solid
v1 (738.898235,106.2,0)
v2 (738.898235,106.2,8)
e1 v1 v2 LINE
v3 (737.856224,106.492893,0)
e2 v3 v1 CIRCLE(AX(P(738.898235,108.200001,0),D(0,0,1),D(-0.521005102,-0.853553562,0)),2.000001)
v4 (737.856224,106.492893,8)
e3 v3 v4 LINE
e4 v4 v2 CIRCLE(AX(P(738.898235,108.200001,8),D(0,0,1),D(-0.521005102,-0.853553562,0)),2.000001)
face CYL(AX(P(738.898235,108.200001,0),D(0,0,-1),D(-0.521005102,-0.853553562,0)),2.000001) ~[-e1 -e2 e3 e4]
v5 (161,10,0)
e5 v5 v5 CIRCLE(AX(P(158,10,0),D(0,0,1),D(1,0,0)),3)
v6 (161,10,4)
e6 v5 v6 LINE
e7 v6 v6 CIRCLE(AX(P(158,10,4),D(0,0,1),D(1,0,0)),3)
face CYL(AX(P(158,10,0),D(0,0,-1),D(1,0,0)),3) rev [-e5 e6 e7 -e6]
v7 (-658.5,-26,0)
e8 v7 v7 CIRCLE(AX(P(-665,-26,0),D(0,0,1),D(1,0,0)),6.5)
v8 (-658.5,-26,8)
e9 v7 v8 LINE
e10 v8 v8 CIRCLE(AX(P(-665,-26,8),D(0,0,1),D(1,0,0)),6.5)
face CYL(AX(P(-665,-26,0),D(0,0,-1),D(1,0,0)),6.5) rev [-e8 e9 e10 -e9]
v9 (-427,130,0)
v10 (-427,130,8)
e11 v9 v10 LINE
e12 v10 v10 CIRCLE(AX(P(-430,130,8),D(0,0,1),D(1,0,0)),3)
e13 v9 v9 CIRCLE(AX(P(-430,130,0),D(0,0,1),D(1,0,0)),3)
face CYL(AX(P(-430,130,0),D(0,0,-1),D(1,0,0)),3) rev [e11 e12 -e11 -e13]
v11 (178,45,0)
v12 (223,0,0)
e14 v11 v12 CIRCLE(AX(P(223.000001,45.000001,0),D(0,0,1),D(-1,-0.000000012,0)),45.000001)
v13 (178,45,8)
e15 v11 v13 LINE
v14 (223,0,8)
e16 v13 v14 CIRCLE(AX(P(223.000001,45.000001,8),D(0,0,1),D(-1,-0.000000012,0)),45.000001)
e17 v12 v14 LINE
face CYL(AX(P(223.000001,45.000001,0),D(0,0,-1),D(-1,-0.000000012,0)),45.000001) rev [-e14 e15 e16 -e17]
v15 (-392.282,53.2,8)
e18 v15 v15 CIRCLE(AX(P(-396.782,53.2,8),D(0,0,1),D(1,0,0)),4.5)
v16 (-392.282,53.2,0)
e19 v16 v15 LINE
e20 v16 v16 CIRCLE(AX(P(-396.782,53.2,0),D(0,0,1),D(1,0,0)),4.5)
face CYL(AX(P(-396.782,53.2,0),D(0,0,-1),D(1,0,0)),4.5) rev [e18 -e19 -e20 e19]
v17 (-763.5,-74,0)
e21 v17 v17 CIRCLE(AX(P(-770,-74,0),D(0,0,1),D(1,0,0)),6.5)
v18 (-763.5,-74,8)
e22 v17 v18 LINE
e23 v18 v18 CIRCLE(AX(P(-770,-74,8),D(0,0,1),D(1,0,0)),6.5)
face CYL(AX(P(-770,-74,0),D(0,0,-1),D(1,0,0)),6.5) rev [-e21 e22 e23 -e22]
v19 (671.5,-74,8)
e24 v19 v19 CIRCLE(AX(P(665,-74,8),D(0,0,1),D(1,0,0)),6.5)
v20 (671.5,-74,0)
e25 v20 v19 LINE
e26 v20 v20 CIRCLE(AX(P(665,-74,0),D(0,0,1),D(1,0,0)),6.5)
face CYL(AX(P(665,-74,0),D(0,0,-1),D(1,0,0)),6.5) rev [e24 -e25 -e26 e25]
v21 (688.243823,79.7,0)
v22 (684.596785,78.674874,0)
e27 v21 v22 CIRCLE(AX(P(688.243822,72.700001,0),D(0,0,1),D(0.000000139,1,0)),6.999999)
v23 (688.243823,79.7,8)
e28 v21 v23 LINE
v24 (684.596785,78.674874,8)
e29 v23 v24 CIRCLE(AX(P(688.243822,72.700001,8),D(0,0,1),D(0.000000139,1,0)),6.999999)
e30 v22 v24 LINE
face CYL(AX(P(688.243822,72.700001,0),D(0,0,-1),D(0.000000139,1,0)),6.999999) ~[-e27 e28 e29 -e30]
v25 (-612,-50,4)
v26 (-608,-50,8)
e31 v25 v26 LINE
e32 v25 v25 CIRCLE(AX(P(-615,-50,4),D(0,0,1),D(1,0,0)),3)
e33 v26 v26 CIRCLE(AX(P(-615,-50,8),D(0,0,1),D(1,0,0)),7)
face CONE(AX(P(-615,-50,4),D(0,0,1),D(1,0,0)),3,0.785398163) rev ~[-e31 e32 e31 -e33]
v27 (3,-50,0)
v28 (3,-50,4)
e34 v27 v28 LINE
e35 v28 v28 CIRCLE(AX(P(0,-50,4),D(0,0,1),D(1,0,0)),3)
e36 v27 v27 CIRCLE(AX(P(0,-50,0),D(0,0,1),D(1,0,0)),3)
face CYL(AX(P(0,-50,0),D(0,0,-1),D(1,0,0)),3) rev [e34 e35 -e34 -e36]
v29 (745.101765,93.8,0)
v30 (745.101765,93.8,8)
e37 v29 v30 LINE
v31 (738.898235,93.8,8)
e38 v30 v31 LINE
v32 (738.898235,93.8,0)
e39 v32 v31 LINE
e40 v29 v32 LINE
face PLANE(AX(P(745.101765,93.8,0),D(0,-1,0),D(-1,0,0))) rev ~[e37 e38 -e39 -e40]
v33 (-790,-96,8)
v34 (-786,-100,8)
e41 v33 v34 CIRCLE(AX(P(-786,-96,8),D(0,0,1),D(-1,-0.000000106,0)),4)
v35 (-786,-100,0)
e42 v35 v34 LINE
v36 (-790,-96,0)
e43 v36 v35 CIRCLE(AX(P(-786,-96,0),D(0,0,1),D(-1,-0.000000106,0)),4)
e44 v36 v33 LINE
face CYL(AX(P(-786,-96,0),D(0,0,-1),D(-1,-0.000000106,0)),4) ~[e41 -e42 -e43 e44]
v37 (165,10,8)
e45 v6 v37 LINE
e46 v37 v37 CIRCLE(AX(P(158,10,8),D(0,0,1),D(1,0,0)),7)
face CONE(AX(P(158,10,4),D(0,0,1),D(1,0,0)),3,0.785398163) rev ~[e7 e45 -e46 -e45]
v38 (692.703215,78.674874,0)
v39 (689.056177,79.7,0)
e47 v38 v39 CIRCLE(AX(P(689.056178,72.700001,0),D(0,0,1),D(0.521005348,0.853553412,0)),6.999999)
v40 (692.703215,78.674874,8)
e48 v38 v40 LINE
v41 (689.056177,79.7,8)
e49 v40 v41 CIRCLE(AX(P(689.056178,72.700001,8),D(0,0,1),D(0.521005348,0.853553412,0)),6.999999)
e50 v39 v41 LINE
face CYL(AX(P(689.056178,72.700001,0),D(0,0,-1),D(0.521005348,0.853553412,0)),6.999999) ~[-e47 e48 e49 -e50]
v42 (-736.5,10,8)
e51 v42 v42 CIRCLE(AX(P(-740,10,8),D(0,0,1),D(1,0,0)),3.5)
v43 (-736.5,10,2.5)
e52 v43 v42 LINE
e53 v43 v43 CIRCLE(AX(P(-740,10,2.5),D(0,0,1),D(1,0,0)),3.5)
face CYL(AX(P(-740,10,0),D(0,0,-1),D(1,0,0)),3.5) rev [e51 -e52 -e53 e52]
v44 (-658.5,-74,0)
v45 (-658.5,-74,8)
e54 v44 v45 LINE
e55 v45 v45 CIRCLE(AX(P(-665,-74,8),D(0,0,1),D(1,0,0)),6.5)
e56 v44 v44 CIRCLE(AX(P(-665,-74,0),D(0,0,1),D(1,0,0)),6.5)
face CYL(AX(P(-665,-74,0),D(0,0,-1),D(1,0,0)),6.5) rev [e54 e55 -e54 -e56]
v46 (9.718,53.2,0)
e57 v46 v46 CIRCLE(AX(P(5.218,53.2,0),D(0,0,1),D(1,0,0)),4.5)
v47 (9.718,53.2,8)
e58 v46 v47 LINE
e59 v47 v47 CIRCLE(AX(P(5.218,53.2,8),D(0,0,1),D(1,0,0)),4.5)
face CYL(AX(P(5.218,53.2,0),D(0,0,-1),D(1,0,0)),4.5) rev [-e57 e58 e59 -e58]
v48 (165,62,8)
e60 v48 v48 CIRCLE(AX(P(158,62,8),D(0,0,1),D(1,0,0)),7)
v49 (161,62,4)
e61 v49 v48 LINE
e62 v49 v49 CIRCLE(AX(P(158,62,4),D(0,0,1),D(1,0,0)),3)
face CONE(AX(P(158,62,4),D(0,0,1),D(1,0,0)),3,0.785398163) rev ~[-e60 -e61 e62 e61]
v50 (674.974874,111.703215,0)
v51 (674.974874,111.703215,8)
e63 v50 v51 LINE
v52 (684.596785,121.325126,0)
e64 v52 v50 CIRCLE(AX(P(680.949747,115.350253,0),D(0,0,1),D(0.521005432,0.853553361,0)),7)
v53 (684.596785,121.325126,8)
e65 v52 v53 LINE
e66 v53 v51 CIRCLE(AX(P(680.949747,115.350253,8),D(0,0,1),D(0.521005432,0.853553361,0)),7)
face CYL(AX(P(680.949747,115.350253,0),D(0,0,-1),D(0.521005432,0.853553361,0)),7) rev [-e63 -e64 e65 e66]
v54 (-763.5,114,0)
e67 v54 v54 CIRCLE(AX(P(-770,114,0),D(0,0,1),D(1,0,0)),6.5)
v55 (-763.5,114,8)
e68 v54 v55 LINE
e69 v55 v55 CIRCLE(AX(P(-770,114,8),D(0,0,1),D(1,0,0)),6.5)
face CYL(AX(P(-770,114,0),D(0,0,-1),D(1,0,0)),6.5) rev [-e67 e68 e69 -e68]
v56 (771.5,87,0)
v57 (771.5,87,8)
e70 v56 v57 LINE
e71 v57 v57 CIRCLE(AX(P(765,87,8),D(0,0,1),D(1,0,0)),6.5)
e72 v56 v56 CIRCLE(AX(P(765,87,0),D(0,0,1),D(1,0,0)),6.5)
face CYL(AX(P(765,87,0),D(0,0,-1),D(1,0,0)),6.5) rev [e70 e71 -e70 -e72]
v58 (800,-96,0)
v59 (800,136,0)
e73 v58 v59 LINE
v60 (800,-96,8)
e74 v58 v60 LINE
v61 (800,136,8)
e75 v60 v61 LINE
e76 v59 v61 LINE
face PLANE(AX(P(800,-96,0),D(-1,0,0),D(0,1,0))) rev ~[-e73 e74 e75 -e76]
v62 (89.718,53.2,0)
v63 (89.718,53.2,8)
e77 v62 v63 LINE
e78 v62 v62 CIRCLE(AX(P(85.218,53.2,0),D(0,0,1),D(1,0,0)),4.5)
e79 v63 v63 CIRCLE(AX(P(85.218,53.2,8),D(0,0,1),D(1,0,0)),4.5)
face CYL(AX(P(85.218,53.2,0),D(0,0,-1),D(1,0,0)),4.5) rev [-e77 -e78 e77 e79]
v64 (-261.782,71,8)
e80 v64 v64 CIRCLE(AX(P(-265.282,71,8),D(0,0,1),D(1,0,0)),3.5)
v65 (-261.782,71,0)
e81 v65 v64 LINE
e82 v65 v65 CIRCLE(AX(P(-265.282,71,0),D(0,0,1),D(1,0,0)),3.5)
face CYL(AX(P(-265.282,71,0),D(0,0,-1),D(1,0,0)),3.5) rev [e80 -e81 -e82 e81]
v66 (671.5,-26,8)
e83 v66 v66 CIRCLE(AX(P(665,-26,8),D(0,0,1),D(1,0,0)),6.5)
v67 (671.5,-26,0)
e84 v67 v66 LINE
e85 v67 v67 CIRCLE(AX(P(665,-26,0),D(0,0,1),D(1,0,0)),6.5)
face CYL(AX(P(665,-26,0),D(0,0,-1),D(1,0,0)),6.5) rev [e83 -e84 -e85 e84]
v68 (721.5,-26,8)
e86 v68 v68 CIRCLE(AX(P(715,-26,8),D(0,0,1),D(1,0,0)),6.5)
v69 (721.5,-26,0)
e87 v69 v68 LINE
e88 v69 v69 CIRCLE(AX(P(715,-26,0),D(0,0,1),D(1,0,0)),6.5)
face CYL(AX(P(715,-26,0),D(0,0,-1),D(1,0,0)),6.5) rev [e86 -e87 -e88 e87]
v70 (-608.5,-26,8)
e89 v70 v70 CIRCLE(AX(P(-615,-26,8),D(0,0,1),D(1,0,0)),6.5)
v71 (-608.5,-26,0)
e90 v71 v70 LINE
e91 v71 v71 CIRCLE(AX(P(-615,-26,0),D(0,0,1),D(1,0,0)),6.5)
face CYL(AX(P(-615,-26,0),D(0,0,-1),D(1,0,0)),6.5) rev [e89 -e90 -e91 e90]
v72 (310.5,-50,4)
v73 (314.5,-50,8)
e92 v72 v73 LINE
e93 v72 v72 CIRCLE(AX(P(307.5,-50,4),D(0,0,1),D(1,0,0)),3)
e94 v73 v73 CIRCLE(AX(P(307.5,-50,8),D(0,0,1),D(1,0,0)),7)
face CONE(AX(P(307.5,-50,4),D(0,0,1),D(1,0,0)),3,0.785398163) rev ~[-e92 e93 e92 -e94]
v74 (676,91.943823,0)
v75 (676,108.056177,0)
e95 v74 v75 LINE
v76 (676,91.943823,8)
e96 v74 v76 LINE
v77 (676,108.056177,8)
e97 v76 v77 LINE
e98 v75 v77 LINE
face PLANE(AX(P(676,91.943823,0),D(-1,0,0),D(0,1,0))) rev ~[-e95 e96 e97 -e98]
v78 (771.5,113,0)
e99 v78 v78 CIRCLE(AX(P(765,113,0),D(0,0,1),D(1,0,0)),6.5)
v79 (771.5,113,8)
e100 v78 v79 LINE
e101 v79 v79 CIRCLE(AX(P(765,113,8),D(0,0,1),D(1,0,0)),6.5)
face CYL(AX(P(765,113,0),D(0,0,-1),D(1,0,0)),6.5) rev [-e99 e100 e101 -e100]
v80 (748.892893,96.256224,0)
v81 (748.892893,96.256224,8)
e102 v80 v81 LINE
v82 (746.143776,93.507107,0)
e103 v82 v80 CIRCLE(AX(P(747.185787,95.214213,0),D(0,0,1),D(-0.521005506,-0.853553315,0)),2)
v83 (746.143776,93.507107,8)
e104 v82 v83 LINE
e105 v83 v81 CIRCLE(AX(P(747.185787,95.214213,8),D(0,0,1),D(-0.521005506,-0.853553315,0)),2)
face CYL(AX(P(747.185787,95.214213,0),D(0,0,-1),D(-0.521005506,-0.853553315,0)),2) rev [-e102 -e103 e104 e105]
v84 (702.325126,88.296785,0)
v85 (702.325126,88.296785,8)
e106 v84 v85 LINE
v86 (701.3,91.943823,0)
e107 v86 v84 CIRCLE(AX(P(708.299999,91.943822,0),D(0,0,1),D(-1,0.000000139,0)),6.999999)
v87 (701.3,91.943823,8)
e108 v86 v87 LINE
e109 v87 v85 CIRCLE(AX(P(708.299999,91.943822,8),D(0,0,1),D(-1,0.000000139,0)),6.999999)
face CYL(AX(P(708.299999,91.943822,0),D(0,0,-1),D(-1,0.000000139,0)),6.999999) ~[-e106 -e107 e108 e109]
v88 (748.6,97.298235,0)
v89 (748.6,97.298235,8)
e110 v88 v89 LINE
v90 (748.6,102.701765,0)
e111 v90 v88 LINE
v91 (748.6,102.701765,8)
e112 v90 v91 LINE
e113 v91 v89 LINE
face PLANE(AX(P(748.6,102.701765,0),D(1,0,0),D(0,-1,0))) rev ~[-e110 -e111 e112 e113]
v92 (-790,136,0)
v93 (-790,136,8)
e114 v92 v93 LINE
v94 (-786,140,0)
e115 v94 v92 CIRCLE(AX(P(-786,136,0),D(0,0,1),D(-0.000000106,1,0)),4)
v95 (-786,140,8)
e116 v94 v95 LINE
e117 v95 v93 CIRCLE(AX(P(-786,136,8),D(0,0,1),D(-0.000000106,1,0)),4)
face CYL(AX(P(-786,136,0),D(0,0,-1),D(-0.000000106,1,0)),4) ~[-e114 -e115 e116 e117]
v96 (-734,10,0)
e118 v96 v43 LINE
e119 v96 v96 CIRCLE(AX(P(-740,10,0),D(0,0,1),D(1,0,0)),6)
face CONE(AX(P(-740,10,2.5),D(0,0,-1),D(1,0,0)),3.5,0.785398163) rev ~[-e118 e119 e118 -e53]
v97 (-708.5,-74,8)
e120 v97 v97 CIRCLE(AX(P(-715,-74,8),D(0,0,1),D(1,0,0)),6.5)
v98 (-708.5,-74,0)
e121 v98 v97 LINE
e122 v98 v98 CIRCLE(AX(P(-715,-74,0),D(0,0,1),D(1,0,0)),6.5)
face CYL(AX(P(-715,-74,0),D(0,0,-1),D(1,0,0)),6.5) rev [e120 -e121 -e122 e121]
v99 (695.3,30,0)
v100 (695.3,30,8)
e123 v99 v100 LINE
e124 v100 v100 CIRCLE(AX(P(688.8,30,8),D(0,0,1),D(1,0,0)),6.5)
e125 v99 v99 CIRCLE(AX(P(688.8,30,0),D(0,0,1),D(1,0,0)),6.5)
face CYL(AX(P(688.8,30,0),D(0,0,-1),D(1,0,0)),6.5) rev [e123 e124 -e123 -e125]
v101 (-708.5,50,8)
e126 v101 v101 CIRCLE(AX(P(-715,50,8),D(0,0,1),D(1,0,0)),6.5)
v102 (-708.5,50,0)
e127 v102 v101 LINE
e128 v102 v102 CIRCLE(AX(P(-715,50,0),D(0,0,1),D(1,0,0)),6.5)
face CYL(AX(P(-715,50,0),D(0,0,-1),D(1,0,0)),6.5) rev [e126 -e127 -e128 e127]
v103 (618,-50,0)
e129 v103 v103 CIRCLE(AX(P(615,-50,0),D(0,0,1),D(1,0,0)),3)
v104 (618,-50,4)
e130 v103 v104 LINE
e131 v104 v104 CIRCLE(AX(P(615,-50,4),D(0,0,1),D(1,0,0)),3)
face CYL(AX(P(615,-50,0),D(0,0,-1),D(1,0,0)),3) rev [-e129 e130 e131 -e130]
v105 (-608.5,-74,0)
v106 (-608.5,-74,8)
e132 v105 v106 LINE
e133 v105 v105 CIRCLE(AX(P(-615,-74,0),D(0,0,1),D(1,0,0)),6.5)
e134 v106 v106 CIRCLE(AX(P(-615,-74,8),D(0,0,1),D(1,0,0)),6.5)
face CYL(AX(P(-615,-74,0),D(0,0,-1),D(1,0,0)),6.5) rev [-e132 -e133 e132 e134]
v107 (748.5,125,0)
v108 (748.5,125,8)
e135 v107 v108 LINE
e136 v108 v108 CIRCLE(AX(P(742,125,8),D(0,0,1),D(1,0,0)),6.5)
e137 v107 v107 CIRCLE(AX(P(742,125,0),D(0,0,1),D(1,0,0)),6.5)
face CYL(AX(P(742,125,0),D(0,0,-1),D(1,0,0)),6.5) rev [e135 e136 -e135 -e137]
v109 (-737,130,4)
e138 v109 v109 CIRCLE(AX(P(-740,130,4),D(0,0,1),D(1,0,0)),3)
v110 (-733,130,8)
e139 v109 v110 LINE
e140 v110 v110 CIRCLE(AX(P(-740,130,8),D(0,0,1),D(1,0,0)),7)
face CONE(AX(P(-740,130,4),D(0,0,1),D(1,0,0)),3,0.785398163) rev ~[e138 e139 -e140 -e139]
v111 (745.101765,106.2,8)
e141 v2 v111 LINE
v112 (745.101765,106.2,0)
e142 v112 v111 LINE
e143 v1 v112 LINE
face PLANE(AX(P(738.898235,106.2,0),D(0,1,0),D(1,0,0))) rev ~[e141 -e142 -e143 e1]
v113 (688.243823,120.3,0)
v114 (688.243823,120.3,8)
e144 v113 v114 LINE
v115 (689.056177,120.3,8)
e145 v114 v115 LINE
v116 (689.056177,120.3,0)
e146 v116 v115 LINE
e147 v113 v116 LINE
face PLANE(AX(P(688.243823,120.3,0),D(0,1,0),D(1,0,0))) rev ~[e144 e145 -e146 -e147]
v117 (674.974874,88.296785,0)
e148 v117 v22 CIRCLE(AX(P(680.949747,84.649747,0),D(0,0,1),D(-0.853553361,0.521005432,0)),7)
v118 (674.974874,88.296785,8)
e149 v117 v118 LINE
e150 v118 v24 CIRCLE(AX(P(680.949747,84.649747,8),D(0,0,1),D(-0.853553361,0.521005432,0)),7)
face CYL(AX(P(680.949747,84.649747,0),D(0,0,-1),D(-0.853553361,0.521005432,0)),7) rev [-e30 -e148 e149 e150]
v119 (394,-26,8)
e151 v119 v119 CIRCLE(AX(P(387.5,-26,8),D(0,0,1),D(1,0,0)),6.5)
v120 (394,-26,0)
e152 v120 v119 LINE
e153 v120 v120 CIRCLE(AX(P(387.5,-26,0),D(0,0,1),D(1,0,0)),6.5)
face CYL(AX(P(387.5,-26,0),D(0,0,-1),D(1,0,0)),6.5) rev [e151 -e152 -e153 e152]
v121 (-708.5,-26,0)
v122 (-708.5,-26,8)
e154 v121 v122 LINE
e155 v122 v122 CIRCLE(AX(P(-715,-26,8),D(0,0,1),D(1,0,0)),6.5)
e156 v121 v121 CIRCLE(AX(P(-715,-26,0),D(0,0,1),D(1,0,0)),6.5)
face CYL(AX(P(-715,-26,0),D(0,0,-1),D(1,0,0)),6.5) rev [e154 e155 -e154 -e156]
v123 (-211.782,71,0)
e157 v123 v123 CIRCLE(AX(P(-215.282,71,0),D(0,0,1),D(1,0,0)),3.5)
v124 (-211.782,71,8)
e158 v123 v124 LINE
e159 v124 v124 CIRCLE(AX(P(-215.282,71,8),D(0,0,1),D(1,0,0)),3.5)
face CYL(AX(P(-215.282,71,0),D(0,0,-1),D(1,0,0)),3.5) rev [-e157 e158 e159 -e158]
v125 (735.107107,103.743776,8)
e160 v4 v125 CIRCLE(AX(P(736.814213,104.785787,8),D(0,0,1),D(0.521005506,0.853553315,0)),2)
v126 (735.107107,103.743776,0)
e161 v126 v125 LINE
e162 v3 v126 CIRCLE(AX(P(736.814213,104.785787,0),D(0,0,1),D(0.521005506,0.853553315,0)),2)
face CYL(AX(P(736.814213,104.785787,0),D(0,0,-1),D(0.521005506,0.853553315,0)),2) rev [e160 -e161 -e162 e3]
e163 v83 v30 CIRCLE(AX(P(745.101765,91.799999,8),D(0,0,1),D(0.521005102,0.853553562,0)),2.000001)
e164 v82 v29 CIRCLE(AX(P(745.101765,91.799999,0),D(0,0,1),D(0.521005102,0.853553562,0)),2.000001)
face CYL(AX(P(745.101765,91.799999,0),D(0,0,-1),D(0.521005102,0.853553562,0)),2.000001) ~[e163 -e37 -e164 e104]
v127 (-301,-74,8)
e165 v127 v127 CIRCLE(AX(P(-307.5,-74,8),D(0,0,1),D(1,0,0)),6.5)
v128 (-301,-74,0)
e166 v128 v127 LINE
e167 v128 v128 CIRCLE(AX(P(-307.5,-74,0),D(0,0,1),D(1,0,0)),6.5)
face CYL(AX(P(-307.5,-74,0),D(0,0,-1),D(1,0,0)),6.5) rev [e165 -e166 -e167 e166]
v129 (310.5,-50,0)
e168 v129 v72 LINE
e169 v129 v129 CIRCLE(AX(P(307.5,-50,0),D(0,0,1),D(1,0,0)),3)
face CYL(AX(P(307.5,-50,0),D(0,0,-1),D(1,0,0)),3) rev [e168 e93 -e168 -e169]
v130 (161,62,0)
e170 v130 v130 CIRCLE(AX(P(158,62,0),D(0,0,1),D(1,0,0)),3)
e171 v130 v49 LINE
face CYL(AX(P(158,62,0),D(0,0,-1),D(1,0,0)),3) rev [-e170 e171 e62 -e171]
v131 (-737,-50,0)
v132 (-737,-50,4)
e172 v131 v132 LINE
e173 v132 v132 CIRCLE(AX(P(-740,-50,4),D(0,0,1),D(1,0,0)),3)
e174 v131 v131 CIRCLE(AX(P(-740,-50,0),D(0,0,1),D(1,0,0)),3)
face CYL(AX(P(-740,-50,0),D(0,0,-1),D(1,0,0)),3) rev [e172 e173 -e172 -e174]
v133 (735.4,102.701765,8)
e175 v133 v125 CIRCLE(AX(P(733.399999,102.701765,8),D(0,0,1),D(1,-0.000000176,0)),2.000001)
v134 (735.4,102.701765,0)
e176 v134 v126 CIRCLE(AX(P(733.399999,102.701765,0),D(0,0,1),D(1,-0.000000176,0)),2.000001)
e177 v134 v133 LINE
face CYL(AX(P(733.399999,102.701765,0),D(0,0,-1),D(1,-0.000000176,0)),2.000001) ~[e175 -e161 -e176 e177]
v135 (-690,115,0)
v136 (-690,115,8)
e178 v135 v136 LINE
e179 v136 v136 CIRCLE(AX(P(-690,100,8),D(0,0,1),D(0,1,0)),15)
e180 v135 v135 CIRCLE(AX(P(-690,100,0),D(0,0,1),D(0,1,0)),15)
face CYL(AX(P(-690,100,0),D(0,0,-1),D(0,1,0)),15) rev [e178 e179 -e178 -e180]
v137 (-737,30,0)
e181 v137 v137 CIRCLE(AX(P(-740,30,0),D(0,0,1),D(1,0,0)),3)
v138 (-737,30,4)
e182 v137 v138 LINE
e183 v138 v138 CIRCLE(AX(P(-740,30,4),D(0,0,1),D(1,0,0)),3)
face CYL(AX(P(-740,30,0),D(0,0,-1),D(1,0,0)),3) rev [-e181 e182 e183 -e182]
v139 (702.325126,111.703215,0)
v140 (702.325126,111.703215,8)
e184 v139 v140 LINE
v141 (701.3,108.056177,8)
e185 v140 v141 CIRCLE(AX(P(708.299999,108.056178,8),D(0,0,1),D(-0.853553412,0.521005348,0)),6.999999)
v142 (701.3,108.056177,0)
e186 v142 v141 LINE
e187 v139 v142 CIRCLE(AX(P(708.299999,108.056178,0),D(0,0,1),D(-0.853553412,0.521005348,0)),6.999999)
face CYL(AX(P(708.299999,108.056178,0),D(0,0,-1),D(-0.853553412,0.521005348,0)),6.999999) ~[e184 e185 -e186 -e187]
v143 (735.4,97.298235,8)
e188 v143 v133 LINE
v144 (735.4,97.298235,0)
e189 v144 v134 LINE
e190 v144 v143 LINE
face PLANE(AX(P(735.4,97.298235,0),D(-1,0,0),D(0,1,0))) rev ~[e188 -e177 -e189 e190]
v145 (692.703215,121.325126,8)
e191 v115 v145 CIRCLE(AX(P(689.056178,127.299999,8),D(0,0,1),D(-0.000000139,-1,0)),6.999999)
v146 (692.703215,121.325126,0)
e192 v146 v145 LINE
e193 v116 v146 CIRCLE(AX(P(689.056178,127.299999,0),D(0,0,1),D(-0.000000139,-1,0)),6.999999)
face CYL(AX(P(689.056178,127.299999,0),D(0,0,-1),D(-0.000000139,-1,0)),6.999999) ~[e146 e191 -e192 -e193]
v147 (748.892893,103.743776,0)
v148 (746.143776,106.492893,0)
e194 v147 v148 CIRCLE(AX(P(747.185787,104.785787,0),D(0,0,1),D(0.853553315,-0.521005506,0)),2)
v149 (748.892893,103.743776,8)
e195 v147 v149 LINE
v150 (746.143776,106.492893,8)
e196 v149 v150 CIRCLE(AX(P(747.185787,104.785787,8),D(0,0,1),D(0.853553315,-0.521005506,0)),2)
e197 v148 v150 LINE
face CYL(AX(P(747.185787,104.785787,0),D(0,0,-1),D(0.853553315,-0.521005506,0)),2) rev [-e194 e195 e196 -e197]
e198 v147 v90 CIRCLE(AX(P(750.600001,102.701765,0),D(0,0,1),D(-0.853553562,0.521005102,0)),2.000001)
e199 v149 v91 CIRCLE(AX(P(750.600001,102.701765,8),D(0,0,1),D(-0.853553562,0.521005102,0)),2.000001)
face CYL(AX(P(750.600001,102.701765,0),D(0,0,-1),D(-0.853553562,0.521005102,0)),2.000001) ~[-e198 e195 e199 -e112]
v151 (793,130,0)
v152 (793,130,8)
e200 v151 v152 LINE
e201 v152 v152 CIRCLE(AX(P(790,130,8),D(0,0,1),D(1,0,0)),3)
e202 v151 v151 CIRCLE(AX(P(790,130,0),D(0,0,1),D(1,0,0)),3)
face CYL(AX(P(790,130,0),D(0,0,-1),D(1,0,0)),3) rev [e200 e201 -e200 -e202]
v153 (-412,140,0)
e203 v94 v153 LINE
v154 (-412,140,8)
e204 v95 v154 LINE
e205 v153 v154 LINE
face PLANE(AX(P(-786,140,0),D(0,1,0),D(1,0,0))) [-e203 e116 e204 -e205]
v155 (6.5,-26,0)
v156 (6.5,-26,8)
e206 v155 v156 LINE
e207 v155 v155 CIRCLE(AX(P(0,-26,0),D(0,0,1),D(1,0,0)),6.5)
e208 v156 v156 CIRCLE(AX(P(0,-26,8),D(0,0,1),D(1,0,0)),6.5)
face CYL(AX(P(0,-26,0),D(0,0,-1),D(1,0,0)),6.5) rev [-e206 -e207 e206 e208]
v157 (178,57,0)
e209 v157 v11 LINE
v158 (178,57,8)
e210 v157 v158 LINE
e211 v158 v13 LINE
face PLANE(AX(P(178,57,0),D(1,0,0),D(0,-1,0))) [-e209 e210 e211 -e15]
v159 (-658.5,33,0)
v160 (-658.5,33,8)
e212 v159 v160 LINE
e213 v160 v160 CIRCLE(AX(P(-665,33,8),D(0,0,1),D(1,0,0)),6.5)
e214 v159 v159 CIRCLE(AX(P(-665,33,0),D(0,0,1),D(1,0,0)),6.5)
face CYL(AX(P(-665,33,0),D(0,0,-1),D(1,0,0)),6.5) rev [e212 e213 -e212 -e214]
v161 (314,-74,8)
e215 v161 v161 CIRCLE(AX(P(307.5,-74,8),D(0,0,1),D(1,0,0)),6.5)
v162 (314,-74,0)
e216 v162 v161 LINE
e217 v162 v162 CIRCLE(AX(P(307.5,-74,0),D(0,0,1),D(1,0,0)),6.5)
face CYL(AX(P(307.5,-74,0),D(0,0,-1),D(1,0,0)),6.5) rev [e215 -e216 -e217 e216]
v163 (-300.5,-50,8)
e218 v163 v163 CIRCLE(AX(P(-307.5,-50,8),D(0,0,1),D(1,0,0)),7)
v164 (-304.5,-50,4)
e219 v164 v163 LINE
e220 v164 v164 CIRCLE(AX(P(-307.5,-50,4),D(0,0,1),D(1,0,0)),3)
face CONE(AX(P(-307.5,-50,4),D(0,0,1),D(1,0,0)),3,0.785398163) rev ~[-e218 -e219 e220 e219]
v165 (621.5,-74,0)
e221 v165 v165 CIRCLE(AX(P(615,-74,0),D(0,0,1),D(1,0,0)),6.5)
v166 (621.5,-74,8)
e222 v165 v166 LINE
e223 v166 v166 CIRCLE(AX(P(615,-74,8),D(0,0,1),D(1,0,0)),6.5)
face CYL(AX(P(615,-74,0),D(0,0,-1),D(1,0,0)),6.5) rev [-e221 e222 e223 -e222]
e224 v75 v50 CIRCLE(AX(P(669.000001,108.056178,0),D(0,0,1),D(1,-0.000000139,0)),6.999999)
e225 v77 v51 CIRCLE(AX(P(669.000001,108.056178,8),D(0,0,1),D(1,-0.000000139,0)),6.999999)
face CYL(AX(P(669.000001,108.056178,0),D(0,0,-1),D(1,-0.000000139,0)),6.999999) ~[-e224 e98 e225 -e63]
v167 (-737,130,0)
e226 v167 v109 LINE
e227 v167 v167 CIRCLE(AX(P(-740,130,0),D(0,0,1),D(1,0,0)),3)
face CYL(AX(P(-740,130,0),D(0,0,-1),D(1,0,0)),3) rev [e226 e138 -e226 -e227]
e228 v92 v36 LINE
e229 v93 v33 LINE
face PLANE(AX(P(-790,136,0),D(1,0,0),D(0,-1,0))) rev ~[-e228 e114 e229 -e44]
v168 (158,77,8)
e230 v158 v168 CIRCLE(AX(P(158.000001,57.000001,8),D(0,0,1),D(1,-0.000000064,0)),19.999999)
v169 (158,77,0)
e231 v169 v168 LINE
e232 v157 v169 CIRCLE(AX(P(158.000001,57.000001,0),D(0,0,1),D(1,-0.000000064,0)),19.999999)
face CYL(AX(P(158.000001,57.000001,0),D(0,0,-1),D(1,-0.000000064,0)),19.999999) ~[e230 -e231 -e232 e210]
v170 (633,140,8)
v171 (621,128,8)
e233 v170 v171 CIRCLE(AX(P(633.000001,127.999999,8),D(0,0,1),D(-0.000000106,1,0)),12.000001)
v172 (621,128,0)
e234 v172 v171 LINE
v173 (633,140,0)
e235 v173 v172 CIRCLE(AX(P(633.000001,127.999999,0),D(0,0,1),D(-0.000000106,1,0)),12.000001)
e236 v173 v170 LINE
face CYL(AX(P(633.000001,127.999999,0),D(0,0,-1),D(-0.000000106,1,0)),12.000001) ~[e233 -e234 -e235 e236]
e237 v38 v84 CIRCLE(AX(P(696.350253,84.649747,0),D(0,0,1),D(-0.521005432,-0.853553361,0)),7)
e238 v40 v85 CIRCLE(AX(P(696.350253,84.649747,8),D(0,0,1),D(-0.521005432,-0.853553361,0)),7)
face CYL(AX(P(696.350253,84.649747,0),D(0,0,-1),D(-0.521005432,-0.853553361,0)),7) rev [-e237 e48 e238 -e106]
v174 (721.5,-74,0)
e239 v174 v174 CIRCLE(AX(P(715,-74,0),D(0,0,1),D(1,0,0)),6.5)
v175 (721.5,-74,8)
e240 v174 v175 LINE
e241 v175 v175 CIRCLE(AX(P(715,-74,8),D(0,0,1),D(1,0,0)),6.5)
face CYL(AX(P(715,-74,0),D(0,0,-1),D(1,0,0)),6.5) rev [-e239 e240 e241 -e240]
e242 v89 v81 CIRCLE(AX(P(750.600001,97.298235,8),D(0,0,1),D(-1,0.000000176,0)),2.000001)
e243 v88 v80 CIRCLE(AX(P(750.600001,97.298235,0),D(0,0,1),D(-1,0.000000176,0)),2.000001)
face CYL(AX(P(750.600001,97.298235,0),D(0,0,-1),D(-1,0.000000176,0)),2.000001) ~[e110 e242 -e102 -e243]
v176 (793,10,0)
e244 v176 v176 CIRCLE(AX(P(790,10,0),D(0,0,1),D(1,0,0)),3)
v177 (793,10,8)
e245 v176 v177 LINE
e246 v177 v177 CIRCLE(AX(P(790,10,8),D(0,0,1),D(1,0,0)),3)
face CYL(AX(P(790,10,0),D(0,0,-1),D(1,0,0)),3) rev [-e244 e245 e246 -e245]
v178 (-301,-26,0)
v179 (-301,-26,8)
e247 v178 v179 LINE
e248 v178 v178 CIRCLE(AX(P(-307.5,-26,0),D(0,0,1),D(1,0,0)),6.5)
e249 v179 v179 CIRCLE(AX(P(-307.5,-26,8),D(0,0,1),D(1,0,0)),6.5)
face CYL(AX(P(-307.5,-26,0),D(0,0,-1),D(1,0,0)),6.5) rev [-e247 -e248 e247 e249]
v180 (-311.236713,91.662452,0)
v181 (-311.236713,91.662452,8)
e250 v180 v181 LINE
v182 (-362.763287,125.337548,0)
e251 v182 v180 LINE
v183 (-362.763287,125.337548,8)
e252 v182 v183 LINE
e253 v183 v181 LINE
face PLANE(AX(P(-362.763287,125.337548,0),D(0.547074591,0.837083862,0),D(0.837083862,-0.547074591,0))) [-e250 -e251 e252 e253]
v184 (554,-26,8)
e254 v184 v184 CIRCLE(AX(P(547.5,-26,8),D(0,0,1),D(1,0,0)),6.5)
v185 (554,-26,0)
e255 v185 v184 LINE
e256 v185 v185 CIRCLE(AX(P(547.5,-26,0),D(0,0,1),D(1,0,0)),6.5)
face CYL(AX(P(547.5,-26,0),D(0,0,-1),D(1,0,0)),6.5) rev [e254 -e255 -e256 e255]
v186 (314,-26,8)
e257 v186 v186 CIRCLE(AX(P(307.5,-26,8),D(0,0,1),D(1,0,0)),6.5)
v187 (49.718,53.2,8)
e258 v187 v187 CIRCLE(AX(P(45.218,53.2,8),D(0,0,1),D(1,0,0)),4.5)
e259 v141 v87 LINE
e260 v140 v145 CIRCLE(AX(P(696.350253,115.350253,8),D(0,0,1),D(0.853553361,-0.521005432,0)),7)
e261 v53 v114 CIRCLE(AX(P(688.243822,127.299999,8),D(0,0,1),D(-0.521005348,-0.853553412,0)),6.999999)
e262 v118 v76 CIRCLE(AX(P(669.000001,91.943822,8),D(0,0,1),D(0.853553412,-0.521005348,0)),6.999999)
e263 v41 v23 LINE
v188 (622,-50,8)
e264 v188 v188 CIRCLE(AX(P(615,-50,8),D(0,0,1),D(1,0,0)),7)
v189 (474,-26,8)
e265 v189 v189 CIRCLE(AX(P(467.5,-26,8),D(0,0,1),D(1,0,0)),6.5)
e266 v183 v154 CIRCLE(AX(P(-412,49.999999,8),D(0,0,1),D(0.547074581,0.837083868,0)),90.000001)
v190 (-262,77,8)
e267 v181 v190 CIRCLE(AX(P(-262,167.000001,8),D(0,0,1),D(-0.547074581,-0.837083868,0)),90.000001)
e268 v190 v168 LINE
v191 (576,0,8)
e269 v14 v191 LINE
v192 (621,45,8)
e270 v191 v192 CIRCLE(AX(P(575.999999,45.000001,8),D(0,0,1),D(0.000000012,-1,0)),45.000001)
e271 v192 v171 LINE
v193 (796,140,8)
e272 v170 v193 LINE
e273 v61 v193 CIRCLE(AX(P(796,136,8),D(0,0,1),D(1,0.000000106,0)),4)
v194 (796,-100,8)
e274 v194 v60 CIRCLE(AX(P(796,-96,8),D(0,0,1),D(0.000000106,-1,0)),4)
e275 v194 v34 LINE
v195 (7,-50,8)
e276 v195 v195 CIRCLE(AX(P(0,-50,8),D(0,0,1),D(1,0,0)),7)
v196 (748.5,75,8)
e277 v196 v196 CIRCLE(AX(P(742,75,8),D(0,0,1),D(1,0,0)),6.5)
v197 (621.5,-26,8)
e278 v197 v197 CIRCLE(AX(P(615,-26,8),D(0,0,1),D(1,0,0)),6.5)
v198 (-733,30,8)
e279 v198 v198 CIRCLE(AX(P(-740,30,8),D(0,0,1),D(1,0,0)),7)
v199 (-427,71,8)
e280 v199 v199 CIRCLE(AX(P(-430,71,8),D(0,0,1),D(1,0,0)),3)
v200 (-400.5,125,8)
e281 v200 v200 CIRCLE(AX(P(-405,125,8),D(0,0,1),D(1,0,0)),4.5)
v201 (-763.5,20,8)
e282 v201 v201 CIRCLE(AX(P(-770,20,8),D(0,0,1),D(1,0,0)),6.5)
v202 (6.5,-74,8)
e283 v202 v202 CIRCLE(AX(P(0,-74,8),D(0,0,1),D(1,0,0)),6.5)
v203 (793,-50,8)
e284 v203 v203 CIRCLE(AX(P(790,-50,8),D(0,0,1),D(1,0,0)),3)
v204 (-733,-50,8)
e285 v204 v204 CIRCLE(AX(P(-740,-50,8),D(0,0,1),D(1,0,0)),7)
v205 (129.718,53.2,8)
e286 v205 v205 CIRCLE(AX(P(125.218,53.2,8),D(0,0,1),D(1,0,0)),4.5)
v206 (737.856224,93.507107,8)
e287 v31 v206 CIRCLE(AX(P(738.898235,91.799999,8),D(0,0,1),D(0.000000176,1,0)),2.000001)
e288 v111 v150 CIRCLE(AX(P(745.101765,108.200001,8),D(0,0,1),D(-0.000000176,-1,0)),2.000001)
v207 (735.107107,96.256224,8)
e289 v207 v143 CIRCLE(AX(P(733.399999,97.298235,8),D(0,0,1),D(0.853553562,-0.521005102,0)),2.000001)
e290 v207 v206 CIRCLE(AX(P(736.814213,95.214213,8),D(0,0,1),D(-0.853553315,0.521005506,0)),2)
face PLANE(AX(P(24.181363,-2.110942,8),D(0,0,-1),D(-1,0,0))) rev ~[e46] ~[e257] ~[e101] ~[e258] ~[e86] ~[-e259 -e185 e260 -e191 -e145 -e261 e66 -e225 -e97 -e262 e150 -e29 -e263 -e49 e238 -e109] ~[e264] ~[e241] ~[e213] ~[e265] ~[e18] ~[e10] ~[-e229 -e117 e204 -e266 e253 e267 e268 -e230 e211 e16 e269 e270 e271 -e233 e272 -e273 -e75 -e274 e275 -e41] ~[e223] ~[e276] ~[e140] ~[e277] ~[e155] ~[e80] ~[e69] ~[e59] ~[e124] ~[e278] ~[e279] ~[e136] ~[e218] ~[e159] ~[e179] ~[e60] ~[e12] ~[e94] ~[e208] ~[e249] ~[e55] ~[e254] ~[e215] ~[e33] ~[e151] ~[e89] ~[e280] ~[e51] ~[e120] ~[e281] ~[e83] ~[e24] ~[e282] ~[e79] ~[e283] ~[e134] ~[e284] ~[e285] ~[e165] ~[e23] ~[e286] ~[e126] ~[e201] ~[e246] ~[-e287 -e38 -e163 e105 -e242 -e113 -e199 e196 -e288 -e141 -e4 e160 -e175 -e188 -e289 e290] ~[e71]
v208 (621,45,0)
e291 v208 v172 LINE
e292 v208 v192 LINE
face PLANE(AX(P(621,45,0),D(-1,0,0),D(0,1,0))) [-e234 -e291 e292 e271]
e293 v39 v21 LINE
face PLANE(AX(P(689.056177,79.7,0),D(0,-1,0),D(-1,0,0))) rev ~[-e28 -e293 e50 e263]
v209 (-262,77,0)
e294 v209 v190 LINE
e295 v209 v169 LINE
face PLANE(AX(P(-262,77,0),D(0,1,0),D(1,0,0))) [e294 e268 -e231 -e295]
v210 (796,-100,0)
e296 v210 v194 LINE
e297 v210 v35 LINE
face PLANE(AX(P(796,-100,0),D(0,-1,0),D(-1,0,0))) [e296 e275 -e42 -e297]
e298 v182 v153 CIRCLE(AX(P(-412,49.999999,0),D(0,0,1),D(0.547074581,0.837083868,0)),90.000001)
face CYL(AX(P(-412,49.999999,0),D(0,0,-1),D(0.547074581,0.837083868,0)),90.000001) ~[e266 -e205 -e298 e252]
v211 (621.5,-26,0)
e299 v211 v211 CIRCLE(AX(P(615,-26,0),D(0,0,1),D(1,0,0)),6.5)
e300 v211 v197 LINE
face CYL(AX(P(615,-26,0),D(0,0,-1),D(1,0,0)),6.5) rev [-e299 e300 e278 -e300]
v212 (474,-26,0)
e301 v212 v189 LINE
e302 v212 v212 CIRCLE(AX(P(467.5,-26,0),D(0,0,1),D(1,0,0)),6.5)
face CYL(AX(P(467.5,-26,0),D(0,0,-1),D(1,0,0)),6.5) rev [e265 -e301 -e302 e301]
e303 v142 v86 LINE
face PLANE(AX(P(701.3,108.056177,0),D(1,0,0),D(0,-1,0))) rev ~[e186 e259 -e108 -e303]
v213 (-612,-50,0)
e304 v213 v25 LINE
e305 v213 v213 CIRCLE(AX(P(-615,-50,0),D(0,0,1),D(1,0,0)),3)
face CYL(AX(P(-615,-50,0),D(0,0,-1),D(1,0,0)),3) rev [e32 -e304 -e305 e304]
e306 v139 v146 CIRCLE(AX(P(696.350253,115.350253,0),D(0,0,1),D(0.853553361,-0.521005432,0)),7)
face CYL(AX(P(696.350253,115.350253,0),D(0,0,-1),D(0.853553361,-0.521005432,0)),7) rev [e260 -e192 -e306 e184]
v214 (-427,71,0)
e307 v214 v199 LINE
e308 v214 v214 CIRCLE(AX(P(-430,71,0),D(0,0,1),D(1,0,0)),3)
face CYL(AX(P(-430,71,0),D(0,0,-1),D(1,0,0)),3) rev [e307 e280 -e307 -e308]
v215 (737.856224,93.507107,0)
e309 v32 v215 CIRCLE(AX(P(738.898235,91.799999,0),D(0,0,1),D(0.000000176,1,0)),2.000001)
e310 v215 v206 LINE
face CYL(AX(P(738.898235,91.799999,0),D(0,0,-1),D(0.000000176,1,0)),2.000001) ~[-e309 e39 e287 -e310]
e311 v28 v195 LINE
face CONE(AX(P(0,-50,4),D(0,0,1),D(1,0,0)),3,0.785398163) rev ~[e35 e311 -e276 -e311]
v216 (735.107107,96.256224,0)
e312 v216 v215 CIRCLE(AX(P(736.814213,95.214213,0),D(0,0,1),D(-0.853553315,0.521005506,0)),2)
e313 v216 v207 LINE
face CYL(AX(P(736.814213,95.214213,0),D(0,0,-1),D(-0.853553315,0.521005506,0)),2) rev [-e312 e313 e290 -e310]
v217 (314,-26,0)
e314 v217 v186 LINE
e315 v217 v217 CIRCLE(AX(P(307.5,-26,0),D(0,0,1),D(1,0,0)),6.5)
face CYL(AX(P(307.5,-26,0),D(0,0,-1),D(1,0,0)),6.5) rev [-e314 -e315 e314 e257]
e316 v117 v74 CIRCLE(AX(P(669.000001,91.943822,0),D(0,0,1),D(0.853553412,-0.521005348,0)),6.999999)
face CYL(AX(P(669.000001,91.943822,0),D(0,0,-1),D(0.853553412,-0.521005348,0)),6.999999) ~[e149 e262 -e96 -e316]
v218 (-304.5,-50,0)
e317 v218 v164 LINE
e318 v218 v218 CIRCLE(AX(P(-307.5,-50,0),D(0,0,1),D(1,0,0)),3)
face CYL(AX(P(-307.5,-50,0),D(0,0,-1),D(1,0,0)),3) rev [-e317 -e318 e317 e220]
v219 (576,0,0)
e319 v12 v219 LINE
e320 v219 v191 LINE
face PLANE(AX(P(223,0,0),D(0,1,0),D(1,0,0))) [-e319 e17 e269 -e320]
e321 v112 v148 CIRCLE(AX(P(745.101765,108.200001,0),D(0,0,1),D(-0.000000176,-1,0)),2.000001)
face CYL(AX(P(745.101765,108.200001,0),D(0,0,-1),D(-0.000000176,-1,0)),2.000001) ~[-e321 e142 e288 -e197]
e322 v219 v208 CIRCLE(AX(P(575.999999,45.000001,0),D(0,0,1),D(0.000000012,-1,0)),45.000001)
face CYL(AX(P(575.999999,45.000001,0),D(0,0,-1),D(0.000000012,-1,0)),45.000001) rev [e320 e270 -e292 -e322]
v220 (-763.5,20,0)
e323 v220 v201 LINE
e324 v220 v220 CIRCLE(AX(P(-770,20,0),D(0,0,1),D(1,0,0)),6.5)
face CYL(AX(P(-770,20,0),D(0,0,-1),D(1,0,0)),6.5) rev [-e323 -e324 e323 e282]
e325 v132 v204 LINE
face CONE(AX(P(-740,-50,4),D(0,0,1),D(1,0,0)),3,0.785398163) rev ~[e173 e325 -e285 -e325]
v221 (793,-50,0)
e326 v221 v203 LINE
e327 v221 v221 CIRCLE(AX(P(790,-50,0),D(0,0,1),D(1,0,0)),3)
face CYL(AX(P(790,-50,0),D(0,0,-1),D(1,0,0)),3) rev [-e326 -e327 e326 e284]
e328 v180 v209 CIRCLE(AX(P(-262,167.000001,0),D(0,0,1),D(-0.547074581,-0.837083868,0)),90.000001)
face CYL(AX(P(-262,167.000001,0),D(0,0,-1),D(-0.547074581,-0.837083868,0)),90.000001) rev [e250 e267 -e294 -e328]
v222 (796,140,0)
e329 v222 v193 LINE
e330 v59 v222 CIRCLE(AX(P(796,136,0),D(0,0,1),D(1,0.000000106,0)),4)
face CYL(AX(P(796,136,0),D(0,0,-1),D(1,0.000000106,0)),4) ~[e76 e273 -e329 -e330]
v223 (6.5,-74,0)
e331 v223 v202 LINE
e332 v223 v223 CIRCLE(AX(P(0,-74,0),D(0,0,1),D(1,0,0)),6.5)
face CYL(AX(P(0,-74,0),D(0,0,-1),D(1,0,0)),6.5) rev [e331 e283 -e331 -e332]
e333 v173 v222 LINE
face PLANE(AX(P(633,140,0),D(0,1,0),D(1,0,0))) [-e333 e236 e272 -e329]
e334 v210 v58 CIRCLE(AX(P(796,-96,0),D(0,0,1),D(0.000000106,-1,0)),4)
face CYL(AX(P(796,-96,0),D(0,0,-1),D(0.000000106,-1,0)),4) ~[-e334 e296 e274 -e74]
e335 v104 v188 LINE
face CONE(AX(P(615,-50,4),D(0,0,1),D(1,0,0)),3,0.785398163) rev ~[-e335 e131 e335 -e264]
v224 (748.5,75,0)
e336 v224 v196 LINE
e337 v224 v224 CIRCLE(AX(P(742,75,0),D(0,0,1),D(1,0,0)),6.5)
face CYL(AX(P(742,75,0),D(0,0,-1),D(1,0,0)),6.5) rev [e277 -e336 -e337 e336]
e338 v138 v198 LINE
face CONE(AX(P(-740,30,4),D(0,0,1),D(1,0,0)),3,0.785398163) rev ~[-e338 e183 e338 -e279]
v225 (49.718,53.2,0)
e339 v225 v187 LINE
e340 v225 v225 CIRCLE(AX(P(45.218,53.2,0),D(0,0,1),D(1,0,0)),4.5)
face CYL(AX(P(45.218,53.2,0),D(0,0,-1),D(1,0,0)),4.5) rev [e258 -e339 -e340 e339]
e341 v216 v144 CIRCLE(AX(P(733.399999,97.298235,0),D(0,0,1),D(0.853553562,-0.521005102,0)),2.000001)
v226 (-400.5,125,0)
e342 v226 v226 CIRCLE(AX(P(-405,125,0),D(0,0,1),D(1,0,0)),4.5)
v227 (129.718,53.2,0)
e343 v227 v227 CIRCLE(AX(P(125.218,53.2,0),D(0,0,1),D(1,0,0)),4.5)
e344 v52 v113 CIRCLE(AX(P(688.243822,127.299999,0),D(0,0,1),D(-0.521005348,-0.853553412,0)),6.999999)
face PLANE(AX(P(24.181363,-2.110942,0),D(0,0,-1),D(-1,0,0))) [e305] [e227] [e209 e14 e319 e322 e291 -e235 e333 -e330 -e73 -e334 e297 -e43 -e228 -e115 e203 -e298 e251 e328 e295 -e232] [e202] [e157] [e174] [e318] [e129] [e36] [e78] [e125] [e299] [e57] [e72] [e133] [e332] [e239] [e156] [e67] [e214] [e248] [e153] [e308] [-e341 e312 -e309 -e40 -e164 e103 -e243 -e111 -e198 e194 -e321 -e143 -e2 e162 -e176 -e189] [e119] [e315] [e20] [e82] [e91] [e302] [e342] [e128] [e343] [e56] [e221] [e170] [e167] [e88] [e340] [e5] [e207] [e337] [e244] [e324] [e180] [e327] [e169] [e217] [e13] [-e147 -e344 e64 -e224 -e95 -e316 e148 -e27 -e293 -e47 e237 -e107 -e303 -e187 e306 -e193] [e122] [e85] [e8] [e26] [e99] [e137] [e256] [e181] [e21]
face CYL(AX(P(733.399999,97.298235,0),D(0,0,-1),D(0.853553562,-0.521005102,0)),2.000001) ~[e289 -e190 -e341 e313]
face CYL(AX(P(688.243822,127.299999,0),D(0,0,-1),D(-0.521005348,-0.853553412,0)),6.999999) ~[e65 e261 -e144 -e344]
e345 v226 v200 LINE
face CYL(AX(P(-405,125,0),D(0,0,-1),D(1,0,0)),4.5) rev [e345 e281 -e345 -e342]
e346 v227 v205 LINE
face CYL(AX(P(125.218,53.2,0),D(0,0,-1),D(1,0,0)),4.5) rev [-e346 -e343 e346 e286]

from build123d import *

# Parameters (mm, degrees)
SKETCH_R        = 6.5
SKETCH_R_2      = 3
SKETCH_R_3      = 4.5
SKETCH_R_4      = 3.5
PAD_DEPTH       = 8
CHAMFER_SIZE    = 4
CHAMFER001_SIZE = 2.5


with BuildPart() as part:
    # Sketch → Pad (new body)
    with BuildSketch(Plane.XY):
        with BuildLine():
            Line((223, 0), (576, 0))
            ThreePointArc((576, 0), (607.819805, 13.180195), (621, 45))
            Line((621, 45), (621, 128))
            ThreePointArc((633, 140), (624.514719, 136.485281), (621, 128))
            Line((633, 140), (796, 140))
            ThreePointArc((800, 136), (798.828427, 138.828427), (796, 140))
            Line((800, -96), (800, 136))
            ThreePointArc((796, -100), (798.828427, -98.828427), (800, -96))
            Line((796, -100), (-786, -100))
            ThreePointArc((-790, -96), (-788.828427, -98.828427), (-786, -100))
            Line((-790, 136), (-790, -96))
            ThreePointArc((-786, 140), (-788.828427, 138.828427), (-790, 136))
            Line((-786, 140), (-412, 140))
            ThreePointArc((-362.763287, 125.337548), (-386.313226, 136.256534), (-412, 140))
            Line((-362.763287, 125.337548), (-311.236713, 91.662452))
            ThreePointArc((-311.236713, 91.662452), (-287.686774, 80.743466), (-262, 77))
            Line((-262, 77), (158, 77))
            ThreePointArc((178, 57), (172.142136, 71.142136), (158, 77))
            Line((178, 57), (178, 45))
            ThreePointArc((178, 45), (191.180195, 13.180195), (223, 0))
        make_face()
        with Locations((-715, 50)):
            Circle(SKETCH_R, mode=Mode.SUBTRACT)
        with Locations((-665, 33)):
            Circle(SKETCH_R, mode=Mode.SUBTRACT)
        with Locations((-715, -26)):
            Circle(SKETCH_R, mode=Mode.SUBTRACT)
        with Locations((-307.5, -26)):
            Circle(SKETCH_R, mode=Mode.SUBTRACT)
        with Locations((-307.5, -74)):
            Circle(SKETCH_R, mode=Mode.SUBTRACT)
        with Locations((0, -74)):
            Circle(SKETCH_R, mode=Mode.SUBTRACT)
        with Locations((0, -26)):
            Circle(SKETCH_R, mode=Mode.SUBTRACT)
        with Locations((307.5, -74)):
            Circle(SKETCH_R, mode=Mode.SUBTRACT)
        with Locations((307.5, -26)):
            Circle(SKETCH_R, mode=Mode.SUBTRACT)
        with Locations((715, -26)):
            Circle(SKETCH_R, mode=Mode.SUBTRACT)
        with Locations((715, -74)):
            Circle(SKETCH_R, mode=Mode.SUBTRACT)
        with Locations((307.5, -50)):
            Circle(SKETCH_R_2, mode=Mode.SUBTRACT)
        with Locations((-307.5, -50)):
            Circle(SKETCH_R_2, mode=Mode.SUBTRACT)
        with Locations((-715, -74)):
            Circle(SKETCH_R, mode=Mode.SUBTRACT)
        with Locations((-430, 130)):
            Circle(SKETCH_R_2, mode=Mode.SUBTRACT)
        with Locations((-430, 71)):
            Circle(SKETCH_R_2, mode=Mode.SUBTRACT)
        with Locations((615, -26)):
            Circle(SKETCH_R, mode=Mode.SUBTRACT)
        with Locations((665, -26)):
            Circle(SKETCH_R, mode=Mode.SUBTRACT)
        with Locations((615, -74)):
            Circle(SKETCH_R, mode=Mode.SUBTRACT)
        with Locations((665, -74)):
            Circle(SKETCH_R, mode=Mode.SUBTRACT)
        with Locations((0, -50)):
            Circle(SKETCH_R_2, mode=Mode.SUBTRACT)
        with Locations((790, -50)):
            Circle(SKETCH_R_2, mode=Mode.SUBTRACT)
        with Locations((742, 125)):
            Circle(SKETCH_R, mode=Mode.SUBTRACT)
        with Locations((765, 113)):
            Circle(SKETCH_R, mode=Mode.SUBTRACT)
        with Locations((765, 87)):
            Circle(SKETCH_R, mode=Mode.SUBTRACT)
        with Locations((742, 75)):
            Circle(SKETCH_R, mode=Mode.SUBTRACT)
        with Locations((-665, -74)):
            Circle(SKETCH_R, mode=Mode.SUBTRACT)
        with Locations((-615, -74)):
            Circle(SKETCH_R, mode=Mode.SUBTRACT)
        with Locations((-665, -26)):
            Circle(SKETCH_R, mode=Mode.SUBTRACT)
        with Locations((-615, -26)):
            Circle(SKETCH_R, mode=Mode.SUBTRACT)
        with Locations((-396.782, 53.2)):
            Circle(SKETCH_R_3, mode=Mode.SUBTRACT)
        with Locations((5.218, 53.2)):
            Circle(SKETCH_R_3, mode=Mode.SUBTRACT)
        with Locations((45.218, 53.2)):
            Circle(SKETCH_R_3, mode=Mode.SUBTRACT)
        with Locations((85.218, 53.2)):
            Circle(SKETCH_R_3, mode=Mode.SUBTRACT)
        with Locations((125.218, 53.2)):
            Circle(SKETCH_R_3, mode=Mode.SUBTRACT)
        with Locations((790, 10)):
            Circle(SKETCH_R_2, mode=Mode.SUBTRACT)
        with Locations((790, 130)):
            Circle(SKETCH_R_2, mode=Mode.SUBTRACT)
        with Locations((-740, -50)):
            Circle(SKETCH_R_2, mode=Mode.SUBTRACT)
        with Locations((-740, 10)):
            Circle(SKETCH_R_4, mode=Mode.SUBTRACT)
        with Locations((-740, 130)):
            Circle(SKETCH_R_2, mode=Mode.SUBTRACT)
        with Locations((387.5, -26)):
            Circle(SKETCH_R, mode=Mode.SUBTRACT)
        with Locations((467.5, -26)):
            Circle(SKETCH_R, mode=Mode.SUBTRACT)
        with Locations((547.5, -26)):
            Circle(SKETCH_R, mode=Mode.SUBTRACT)
        with Locations((158, 62)):
            Circle(SKETCH_R_2, mode=Mode.SUBTRACT)
        with Locations((158, 10)):
            Circle(SKETCH_R_2, mode=Mode.SUBTRACT)
        with Locations((-770, -74)):
            Circle(SKETCH_R, mode=Mode.SUBTRACT)
        with Locations((-770, 114)):
            Circle(SKETCH_R, mode=Mode.SUBTRACT)
        with Locations((-740, 30)):
            Circle(SKETCH_R_2, mode=Mode.SUBTRACT)
        with Locations((-770, 20)):
            Circle(SKETCH_R, mode=Mode.SUBTRACT)
        with Locations((-405, 125)):
            Circle(SKETCH_R_3, mode=Mode.SUBTRACT)
        with Locations((688.8, 30)):
            Circle(SKETCH_R, mode=Mode.SUBTRACT)
        with Locations((-265.282, 71)):
            Circle(SKETCH_R_4, mode=Mode.SUBTRACT)
        with Locations((-215.282, 71)):
            Circle(SKETCH_R_4, mode=Mode.SUBTRACT)
        with Locations((615, -50)):
            Circle(SKETCH_R_2, mode=Mode.SUBTRACT)
        with Locations((-615, -50)):
            Circle(SKETCH_R_2, mode=Mode.SUBTRACT)
        with BuildLine():
            ThreePointArc((-690, 85), (-675, 100), (-690, 115))
            ThreePointArc((-690, 115), (-705, 100), (-690, 85))
        make_face(mode=Mode.SUBTRACT)
        with BuildLine():
            Line((688.243823, 120.3), (689.056177, 120.3))
            ThreePointArc((689.056177, 120.3), (690.950364, 120.561153), (692.703215, 121.325126))
            ThreePointArc((702.325126, 111.703215), (701.3, 120.3), (692.703215, 121.325126))
            ThreePointArc((702.325126, 111.703215), (701.561153, 109.950364), (701.3, 108.056177))
            Line((701.3, 108.056177), (701.3, 91.943823))
            ThreePointArc((701.3, 91.943823), (701.561153, 90.049636), (702.325126, 88.296785))
            ThreePointArc((692.703215, 78.674874), (701.3, 79.7), (702.325126, 88.296785))
            ThreePointArc((692.703215, 78.674874), (690.950364, 79.438847), (689.056177, 79.7))
            Line((689.056177, 79.7), (688.243823, 79.7))
            ThreePointArc((688.243823, 79.7), (686.349636, 79.438847), (684.596785, 78.674874))
            ThreePointArc((674.974874, 88.296785), (676, 79.7), (684.596785, 78.674874))
            ThreePointArc((674.974874, 88.296785), (675.738847, 90.049636), (676, 91.943823))
            Line((676, 91.943823), (676, 108.056177))
            ThreePointArc((676, 108.056177), (675.738847, 109.950364), (674.974874, 111.703215))
            ThreePointArc((684.596785, 121.325126), (676, 120.3), (674.974874, 111.703215))
            ThreePointArc((684.596785, 121.325126), (686.349636, 120.561153), (688.243823, 120.3))
        make_face(mode=Mode.SUBTRACT)
        with BuildLine():
            Line((738.898235, 106.2), (745.101765, 106.2))
            ThreePointArc((745.101765, 106.2), (745.642961, 106.274615), (746.143776, 106.492893))
            ThreePointArc((748.892893, 103.743776), (748.6, 106.2), (746.143776, 106.492893))
            ThreePointArc((748.892893, 103.743776), (748.674615, 103.242961), (748.6, 102.701765))
            Line((748.6, 102.701765), (748.6, 97.298235))
            ThreePointArc((748.6, 97.298235), (748.674615, 96.757039), (748.892893, 96.256224))
            ThreePointArc((746.143776, 93.507107), (748.6, 93.8), (748.892893, 96.256224))
            ThreePointArc((746.143776, 93.507107), (745.642961, 93.725385), (745.101765, 93.8))
            Line((745.101765, 93.8), (738.898235, 93.8))
            ThreePointArc((738.898235, 93.8), (738.357039, 93.725385), (737.856224, 93.507107))
            ThreePointArc((735.107107, 96.256224), (735.4, 93.8), (737.856224, 93.507107))
            ThreePointArc((735.107107, 96.256224), (735.325385, 96.757039), (735.4, 97.298235))
            Line((735.4, 97.298235), (735.4, 102.701765))
            ThreePointArc((735.4, 102.701765), (735.325385, 103.242961), (735.107107, 103.743776))
            ThreePointArc((737.856224, 106.492893), (735.4, 106.2), (735.107107, 103.743776))
            ThreePointArc((737.856224, 106.492893), (738.357039, 106.274615), (738.898235, 106.2))
        make_face(mode=Mode.SUBTRACT)
    extrude(amount=PAD_DEPTH)

    # Chamfer
    chamfer_edges = [part.edges().sort_by_distance(p)[0] for p in [
        (612, -50, 8),
        (-310.5, -50, 8),
        (304.5, -50, 8),
        (155, 10, 8),
        (-743, -50, 8),
        (-743, 30, 8),
        (-743, 130, 8),
        (155, 62, 8),
        (-3, -50, 8),
        (-618, -50, 8),
    ]]
    chamfer(chamfer_edges, length=CHAMFER_SIZE)

    # Chamfer001
    chamfer001_edges = [part.edges().sort_by_distance(p)[0] for p in [
        (-743.5, 10, 0),
    ]]
    chamfer(chamfer001_edges, length=CHAMFER001_SIZE)


solid = part.part
